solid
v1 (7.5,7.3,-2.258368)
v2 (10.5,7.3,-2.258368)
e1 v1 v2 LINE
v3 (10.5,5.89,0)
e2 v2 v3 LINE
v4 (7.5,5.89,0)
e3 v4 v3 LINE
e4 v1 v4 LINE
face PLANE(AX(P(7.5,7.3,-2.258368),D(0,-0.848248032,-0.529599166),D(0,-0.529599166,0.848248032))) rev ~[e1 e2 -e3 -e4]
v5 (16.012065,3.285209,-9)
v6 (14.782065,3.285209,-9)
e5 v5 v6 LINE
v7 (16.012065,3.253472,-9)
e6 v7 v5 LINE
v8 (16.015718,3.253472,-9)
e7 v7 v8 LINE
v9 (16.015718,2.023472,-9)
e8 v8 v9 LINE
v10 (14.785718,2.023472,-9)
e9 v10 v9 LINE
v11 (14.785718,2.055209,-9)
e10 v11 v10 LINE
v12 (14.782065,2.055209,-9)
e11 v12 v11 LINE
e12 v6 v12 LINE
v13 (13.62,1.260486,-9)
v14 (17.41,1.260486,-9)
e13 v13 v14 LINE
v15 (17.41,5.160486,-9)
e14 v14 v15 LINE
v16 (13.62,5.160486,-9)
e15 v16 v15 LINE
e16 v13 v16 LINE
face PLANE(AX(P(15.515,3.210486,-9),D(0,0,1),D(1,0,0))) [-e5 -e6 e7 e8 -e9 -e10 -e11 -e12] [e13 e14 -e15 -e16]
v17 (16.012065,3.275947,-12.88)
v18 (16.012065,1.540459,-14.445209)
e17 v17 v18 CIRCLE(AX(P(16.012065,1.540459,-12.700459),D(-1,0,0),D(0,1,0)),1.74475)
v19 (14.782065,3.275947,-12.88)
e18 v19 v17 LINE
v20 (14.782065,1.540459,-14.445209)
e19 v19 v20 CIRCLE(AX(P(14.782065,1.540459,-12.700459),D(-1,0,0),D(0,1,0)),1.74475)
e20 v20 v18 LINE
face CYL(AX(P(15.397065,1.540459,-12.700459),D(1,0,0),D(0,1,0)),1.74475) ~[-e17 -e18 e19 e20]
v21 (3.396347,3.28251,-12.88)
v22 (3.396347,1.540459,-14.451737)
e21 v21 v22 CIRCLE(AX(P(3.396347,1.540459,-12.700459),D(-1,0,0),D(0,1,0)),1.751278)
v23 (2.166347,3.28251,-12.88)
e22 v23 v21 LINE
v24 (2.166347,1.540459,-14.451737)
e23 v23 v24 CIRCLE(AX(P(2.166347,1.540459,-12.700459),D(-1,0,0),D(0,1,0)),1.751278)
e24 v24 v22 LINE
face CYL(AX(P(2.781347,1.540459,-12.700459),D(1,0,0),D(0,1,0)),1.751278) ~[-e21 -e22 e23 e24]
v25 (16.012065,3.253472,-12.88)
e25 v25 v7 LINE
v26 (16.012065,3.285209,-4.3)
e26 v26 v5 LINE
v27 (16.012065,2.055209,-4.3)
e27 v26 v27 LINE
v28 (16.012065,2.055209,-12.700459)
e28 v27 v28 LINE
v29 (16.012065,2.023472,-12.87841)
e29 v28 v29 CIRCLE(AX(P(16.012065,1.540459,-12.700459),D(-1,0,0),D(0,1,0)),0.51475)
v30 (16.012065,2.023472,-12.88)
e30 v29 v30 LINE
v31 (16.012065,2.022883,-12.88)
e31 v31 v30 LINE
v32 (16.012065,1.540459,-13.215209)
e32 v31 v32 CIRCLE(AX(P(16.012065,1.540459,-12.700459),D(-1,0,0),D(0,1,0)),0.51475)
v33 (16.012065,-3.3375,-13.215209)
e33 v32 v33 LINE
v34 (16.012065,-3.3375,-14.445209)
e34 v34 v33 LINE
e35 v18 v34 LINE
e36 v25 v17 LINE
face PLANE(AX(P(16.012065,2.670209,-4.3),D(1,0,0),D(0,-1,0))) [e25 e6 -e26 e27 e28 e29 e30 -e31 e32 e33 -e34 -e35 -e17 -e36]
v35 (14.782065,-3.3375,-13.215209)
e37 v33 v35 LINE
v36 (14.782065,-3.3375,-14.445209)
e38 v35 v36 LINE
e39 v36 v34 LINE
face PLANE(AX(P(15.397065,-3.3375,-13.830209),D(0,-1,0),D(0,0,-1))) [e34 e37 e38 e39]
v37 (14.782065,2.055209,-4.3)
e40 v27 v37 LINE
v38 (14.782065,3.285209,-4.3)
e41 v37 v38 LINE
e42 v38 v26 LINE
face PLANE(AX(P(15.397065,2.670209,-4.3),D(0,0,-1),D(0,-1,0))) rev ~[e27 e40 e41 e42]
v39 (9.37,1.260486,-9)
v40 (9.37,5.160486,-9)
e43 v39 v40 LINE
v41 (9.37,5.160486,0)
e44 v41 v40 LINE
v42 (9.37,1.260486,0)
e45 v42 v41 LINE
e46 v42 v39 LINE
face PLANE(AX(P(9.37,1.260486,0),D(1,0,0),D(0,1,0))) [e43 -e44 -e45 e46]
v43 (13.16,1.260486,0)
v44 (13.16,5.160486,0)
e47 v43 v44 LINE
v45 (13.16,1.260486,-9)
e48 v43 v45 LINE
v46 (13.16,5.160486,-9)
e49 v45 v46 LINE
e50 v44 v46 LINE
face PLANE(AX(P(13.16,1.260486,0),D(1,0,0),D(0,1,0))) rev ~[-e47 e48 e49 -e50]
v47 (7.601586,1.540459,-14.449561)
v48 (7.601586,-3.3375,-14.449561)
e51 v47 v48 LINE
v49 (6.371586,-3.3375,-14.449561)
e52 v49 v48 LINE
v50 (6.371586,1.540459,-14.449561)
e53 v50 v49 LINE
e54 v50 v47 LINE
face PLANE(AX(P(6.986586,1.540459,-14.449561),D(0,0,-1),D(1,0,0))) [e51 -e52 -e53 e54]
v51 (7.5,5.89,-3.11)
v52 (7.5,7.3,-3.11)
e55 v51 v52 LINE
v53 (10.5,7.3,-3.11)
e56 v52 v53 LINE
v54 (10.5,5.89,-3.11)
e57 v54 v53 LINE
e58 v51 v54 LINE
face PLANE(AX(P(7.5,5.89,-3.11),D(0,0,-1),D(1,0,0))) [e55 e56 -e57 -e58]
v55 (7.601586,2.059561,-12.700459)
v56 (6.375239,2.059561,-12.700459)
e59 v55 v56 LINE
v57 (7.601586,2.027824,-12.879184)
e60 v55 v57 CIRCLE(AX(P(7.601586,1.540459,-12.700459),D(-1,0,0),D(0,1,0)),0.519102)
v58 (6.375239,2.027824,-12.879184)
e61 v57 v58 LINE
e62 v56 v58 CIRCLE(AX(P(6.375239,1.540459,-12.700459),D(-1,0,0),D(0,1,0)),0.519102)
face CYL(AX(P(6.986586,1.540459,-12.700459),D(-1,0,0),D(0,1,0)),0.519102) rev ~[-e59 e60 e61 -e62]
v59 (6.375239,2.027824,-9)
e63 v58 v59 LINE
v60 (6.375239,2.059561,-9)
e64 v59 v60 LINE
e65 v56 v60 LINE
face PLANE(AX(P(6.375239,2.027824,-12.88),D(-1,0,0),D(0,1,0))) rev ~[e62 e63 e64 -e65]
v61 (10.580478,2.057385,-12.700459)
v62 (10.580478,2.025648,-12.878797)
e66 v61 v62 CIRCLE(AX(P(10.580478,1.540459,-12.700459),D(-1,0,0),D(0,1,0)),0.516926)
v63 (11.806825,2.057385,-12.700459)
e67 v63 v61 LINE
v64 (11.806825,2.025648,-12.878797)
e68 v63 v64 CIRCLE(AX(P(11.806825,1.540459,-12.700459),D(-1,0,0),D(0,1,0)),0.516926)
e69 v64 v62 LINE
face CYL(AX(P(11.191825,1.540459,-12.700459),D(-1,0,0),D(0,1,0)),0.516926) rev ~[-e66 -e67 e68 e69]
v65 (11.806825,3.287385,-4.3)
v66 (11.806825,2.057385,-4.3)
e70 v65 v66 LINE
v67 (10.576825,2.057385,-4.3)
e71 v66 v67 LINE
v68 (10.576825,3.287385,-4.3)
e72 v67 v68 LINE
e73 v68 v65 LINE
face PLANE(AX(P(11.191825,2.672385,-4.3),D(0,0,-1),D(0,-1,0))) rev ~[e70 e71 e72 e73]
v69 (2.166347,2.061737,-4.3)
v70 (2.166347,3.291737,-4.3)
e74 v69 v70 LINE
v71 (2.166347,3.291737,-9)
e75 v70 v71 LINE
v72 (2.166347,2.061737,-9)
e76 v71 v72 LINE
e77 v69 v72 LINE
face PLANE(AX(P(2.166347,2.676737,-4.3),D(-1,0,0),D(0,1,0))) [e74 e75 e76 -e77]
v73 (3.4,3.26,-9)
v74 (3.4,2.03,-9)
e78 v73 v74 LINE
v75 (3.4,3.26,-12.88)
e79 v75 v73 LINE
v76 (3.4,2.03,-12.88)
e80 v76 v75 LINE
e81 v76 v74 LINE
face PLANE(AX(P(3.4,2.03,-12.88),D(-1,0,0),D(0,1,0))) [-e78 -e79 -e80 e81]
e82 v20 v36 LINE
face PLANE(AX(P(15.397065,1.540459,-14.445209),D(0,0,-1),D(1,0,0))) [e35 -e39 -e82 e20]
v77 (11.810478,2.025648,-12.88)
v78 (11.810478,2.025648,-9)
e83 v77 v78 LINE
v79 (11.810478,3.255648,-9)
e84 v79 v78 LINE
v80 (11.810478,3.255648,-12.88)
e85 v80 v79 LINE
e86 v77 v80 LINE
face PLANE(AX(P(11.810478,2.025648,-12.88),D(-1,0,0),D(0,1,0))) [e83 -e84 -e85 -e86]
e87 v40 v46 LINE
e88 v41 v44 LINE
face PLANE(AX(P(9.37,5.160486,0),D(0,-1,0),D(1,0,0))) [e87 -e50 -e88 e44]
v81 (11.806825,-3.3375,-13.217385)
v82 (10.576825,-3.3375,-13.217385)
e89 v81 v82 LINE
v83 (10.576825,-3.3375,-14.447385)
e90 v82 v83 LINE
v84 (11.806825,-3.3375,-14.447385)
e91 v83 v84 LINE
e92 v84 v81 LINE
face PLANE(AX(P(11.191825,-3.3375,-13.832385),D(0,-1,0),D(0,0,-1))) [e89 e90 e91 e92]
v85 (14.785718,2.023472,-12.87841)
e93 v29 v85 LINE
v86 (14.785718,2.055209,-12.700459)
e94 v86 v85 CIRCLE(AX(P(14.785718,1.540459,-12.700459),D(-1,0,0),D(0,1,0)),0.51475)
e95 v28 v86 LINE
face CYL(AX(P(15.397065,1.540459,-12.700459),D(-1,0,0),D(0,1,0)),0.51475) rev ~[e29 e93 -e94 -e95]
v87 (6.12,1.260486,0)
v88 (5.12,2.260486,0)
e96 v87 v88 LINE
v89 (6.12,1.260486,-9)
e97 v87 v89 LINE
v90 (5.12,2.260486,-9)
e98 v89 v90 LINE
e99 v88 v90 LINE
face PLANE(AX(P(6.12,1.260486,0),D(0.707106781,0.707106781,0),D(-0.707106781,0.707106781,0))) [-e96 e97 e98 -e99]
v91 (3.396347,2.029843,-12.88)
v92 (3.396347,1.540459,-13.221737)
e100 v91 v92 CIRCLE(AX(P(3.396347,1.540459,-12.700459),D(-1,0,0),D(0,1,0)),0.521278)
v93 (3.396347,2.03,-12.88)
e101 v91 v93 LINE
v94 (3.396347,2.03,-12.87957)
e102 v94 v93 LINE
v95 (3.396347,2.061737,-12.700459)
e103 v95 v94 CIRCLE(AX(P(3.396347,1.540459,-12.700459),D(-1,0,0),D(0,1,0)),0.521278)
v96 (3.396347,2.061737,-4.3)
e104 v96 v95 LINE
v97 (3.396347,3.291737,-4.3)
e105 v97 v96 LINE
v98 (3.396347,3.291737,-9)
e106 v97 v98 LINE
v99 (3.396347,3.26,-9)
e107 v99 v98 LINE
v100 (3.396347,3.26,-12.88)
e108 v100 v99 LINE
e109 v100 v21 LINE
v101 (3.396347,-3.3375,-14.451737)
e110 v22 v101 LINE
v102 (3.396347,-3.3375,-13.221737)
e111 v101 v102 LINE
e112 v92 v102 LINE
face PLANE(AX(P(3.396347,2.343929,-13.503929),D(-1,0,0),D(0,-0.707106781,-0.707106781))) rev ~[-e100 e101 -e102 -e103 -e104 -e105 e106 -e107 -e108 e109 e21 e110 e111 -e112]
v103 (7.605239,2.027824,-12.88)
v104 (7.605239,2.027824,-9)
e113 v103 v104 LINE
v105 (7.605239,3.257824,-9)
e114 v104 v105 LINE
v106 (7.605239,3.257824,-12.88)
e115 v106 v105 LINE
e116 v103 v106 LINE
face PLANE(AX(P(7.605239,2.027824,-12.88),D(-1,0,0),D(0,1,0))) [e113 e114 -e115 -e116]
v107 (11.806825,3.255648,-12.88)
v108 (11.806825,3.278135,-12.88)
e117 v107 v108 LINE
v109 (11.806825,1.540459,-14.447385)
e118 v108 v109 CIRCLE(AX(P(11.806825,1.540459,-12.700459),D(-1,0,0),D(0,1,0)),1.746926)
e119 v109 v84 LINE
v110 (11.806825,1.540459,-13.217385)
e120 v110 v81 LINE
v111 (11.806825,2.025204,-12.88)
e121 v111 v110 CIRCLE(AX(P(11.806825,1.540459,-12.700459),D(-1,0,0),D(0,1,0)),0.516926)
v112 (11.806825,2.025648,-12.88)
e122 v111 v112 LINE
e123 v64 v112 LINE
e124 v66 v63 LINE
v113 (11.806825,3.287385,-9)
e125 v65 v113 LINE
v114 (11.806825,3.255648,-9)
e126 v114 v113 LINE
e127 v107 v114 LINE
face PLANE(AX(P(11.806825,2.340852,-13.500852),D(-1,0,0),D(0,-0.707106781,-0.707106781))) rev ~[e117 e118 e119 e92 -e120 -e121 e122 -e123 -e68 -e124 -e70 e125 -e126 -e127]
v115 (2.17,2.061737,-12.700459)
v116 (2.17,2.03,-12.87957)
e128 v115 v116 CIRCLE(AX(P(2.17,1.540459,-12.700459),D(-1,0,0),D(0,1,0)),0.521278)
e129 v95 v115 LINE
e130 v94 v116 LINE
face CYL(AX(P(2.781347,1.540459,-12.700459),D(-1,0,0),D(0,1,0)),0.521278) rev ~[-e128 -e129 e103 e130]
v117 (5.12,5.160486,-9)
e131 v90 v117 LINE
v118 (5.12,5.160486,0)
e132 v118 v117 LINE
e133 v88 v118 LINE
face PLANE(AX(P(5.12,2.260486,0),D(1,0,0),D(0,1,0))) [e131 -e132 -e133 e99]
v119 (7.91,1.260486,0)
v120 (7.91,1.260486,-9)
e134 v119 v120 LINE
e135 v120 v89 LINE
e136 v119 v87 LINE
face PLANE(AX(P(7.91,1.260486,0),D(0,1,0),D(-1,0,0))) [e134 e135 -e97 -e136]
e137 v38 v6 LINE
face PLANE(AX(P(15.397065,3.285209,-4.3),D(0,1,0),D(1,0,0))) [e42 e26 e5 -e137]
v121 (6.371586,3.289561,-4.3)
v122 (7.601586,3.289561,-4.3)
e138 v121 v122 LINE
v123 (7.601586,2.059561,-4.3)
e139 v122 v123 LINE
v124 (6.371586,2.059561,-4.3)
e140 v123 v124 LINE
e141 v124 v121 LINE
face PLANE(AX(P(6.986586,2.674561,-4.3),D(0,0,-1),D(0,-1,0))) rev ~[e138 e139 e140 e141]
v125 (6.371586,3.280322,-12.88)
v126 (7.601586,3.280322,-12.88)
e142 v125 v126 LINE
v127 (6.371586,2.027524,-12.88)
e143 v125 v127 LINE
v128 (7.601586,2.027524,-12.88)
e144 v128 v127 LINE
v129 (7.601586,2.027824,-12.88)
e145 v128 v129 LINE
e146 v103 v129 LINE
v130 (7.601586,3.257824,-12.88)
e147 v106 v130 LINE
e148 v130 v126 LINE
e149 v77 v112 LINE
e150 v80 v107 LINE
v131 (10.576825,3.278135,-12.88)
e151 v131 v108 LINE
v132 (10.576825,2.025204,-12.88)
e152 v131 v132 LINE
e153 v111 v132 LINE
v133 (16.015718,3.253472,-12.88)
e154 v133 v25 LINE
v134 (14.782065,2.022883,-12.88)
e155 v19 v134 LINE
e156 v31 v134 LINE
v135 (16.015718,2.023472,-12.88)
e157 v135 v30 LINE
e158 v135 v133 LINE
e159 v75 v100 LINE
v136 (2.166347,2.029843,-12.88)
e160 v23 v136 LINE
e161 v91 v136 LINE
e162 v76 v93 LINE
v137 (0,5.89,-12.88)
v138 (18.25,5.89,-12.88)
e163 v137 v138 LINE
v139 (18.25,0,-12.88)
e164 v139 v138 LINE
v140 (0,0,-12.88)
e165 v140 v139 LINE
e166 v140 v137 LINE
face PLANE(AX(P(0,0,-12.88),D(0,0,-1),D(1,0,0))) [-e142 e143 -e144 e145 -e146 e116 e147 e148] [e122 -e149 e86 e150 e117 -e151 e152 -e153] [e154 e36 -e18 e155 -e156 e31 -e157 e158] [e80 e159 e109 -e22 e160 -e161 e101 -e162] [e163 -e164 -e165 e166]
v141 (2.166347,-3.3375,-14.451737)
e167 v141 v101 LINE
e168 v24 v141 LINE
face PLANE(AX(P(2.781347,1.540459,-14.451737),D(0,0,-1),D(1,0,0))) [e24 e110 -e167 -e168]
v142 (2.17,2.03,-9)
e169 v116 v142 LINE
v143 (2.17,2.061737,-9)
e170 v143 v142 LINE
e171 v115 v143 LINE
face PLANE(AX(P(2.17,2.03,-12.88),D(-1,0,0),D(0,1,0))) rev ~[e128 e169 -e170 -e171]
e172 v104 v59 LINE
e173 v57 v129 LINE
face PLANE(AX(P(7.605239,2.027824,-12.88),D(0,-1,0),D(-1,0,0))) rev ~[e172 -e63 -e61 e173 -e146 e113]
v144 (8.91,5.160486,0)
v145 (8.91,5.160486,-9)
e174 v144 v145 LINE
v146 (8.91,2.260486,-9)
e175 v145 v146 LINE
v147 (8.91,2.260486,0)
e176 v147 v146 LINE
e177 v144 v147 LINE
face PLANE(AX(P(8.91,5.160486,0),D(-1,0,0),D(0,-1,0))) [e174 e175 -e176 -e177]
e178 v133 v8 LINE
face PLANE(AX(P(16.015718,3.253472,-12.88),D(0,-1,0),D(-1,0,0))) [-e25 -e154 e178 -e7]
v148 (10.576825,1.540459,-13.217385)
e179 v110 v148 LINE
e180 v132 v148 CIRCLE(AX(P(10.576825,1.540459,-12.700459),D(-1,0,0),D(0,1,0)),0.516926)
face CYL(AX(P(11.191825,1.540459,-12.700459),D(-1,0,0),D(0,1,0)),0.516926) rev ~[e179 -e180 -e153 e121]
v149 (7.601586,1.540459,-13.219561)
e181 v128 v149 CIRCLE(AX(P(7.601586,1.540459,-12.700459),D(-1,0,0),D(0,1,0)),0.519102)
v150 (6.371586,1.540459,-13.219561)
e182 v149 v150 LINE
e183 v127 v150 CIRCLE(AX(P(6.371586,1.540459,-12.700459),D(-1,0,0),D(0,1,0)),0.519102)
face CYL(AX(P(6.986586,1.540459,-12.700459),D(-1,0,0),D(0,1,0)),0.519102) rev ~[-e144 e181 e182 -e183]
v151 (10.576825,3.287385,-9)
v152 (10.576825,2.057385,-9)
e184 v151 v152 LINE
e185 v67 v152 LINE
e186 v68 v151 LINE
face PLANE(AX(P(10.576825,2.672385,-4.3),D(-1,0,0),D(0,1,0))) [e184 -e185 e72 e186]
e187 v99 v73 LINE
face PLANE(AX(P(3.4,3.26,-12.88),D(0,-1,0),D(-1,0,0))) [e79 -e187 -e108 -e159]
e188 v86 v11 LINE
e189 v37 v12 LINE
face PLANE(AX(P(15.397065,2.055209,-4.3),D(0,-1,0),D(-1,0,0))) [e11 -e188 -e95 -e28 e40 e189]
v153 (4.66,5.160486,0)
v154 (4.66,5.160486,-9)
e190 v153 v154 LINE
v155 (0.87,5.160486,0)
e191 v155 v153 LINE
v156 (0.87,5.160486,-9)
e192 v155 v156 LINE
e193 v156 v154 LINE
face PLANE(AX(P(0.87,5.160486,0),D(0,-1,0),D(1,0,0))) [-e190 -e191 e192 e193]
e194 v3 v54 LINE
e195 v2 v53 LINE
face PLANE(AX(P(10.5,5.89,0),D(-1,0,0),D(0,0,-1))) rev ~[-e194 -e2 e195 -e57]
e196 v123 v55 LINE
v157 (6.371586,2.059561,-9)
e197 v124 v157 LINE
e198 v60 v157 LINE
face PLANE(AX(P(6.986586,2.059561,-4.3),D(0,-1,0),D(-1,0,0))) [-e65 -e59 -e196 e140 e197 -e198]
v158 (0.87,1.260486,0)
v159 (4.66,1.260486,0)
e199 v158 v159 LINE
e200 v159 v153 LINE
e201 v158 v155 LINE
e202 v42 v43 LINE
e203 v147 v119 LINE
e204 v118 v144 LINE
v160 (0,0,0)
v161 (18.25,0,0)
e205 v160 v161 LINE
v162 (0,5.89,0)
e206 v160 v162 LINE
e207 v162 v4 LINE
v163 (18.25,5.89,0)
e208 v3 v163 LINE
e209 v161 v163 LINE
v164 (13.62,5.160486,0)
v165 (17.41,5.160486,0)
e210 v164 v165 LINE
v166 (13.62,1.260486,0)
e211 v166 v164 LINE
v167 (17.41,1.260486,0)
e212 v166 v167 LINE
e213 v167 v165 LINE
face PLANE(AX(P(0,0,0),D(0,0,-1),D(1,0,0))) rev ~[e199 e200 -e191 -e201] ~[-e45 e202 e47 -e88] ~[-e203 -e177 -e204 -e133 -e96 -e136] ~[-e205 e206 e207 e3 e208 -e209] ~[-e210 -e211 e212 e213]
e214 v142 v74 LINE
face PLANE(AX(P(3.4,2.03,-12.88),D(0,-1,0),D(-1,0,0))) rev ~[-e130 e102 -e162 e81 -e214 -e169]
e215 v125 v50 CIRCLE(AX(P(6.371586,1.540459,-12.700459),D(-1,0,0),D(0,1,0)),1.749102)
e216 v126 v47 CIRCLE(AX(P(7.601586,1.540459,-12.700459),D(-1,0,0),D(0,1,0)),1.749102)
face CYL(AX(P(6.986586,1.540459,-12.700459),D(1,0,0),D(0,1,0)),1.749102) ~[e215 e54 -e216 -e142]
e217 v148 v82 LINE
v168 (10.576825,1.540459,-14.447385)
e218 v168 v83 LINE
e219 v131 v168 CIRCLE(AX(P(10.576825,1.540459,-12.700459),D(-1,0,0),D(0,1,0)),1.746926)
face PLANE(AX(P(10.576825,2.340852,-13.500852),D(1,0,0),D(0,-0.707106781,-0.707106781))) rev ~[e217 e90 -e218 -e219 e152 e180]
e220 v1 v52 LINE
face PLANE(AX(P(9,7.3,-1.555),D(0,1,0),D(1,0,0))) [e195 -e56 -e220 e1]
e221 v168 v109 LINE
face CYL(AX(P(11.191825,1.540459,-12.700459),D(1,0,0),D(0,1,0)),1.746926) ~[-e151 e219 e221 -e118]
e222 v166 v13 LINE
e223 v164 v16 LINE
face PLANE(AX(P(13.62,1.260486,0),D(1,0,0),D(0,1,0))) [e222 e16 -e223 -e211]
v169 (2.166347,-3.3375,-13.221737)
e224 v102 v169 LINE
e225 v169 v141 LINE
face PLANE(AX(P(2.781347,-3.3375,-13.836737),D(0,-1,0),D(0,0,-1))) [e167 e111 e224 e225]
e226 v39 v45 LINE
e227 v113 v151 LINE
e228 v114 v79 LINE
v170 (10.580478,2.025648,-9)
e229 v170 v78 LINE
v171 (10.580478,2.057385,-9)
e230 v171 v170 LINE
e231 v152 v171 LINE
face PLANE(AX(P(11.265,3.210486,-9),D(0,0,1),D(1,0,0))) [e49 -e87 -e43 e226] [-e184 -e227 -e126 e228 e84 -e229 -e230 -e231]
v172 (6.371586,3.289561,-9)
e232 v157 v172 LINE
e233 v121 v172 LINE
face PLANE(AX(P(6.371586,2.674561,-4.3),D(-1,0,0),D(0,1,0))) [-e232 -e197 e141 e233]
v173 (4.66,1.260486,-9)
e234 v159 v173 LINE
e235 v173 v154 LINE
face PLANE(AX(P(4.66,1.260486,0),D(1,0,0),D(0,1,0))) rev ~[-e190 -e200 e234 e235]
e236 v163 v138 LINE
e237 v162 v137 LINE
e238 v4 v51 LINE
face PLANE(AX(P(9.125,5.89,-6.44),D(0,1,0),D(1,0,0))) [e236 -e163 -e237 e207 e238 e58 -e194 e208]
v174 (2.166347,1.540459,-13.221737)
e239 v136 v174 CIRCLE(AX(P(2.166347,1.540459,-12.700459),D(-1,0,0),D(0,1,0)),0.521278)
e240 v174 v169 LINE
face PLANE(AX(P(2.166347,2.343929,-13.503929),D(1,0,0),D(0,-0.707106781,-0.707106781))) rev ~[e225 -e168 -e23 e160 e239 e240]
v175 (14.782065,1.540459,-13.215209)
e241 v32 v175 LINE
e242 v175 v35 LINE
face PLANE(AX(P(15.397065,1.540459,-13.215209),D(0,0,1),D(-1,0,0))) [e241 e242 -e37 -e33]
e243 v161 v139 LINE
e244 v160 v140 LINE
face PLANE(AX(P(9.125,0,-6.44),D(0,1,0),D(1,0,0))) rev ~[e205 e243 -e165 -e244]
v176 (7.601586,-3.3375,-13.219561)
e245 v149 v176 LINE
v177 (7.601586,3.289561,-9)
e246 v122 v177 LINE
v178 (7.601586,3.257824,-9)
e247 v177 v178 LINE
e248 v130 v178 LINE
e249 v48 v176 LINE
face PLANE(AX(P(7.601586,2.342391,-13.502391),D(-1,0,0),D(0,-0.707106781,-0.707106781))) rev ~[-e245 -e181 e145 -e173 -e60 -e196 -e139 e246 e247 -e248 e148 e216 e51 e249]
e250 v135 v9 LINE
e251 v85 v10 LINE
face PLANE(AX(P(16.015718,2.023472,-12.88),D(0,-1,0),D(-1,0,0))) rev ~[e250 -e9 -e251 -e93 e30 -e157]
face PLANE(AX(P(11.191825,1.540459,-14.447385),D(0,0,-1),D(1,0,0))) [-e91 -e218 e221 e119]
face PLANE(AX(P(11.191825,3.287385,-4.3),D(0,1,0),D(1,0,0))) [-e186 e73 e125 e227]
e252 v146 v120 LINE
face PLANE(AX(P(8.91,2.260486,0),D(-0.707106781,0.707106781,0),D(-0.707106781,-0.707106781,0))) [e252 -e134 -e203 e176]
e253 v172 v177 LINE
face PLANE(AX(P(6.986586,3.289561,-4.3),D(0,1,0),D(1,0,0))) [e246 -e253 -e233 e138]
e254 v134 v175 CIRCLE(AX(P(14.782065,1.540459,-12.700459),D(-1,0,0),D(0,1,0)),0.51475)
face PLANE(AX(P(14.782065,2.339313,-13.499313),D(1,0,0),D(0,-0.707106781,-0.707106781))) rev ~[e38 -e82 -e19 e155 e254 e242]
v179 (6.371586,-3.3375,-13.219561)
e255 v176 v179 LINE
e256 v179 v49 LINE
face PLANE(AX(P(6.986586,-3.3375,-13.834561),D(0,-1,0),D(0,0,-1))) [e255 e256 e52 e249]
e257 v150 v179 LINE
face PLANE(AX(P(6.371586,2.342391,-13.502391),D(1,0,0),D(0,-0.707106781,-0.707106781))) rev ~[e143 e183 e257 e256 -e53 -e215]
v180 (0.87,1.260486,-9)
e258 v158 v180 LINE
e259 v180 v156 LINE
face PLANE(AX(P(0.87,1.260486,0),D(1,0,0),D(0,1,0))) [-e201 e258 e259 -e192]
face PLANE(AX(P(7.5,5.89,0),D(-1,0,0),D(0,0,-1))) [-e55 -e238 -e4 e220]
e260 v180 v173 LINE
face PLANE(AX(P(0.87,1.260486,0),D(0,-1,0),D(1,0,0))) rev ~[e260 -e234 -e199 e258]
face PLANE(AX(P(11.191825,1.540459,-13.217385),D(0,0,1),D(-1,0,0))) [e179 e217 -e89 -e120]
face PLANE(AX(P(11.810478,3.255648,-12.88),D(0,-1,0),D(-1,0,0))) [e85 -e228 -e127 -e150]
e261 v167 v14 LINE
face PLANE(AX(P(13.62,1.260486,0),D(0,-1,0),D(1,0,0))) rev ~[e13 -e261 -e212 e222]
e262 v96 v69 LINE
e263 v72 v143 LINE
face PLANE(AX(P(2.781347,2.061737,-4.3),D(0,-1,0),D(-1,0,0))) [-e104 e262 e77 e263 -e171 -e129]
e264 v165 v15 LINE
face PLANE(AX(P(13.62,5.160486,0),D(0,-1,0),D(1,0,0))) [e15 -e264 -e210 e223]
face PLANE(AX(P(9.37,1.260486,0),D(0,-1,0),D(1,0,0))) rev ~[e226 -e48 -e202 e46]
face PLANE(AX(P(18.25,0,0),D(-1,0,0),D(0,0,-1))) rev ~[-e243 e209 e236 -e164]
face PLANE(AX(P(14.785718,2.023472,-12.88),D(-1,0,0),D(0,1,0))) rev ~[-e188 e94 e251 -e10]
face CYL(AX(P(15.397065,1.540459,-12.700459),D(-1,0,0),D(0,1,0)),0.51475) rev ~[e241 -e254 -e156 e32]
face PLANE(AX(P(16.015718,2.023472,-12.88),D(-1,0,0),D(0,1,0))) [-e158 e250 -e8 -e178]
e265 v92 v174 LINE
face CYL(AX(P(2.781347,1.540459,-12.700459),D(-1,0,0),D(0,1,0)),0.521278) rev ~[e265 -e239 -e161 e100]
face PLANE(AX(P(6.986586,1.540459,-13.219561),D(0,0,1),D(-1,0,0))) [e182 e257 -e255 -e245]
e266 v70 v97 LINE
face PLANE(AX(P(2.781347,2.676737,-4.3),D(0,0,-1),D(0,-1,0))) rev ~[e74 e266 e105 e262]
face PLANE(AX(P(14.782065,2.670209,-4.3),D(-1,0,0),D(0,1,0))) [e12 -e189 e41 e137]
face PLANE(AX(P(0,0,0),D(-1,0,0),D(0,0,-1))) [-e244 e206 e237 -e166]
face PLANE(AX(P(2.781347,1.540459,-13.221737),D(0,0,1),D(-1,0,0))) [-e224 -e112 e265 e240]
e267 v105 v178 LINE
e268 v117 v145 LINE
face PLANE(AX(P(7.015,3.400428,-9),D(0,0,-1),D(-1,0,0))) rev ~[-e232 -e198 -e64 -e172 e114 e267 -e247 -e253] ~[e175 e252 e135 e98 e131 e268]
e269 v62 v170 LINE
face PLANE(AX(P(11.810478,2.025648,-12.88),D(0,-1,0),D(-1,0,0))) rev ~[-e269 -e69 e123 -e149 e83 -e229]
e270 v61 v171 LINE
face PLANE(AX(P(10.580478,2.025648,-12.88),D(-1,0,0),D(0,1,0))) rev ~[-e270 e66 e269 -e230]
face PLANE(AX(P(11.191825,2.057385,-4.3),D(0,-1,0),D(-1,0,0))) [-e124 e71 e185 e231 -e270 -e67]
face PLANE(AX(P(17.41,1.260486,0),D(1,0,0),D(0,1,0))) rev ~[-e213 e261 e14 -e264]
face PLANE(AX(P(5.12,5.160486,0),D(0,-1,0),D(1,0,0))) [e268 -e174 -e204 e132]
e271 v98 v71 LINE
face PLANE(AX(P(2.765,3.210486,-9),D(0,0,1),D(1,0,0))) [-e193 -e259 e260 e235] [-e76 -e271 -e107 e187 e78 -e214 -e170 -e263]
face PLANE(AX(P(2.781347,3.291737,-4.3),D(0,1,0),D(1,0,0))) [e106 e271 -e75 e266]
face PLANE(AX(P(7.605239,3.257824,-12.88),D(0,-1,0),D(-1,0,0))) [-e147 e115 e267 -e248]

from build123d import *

# Parameters (mm, degrees)
SKETCH1_W           = 18.25
SKETCH1_H           = 12.88
BOSS_EXTRUDE1_DEPTH = 5.89
SKETCH2_W           = 3.79
SKETCH2_H           = 3.9
CUT_EXTRUDE1_DEPTH  = 9
SKETCH3_W           = 3
SKETCH3_H           = 3.11
BOSS_EXTRUDE2_DEPTH = 1.41
CUT_EXTRUDE2_DEPTH  = 3
SKETCH5_W           = 1.23
SKETCH5_H           = 1.23
CUT_EXTRUDE3_DEPTH  = 4
SKETCH8_W           = 1.23
SKETCH8_H           = 1.23


with BuildPart() as part:
    # Sketch1 → Boss-Extrude1 (new body)
    with BuildSketch(Plane(origin=(0, 0, 0), x_dir=(1, 0, 0), z_dir=(0, 1, 0))):
        with Locations((9.125, 6.44)):
            Rectangle(SKETCH1_W, SKETCH1_H)
    extrude(amount=BOSS_EXTRUDE1_DEPTH)

    # Sketch2 → Cut-Extrude1 (cut)
    with BuildSketch(Plane.XY):
        with Locations((2.765, 3.21048567)):
            Rectangle(SKETCH2_W, SKETCH2_H)
        Polygon((5.12, 5.16048567), (8.91, 5.16048567), (8.91, 2.26048567), (7.91, 1.26048567), (6.12, 1.26048567), (5.12, 2.26048567), align=None)
        with Locations((11.265, 3.21048567)):
            Rectangle(SKETCH2_W, SKETCH2_H)
        with Locations((15.515, 3.21048567)):
            Rectangle(SKETCH2_W, SKETCH2_H)
    extrude(amount=-CUT_EXTRUDE1_DEPTH, mode=Mode.SUBTRACT)

    # Sketch3 → Boss-Extrude2 (add)
    with BuildSketch(Plane(origin=(0, 5.89, 0), x_dir=(1, 0, 0), z_dir=(0, 1, 0))):
        with Locations((9, 1.555)):
            Rectangle(SKETCH3_W, SKETCH3_H)
    extrude(amount=BOSS_EXTRUDE2_DEPTH)

    # Sketch4 → Cut-Extrude2 (cut)
    with BuildSketch(Plane.ZY.offset(-7.5)):
        Polygon((-2.258367839, 7.3), (0, 5.89), (0, 7.3), align=None)
    extrude(amount=-CUT_EXTRUDE2_DEPTH, mode=Mode.SUBTRACT)

    # Sketch5 → Cut-Extrude3 (cut)
    with BuildSketch(Plane(origin=(0, 0, -12.88), x_dir=(-1, 0, 0), z_dir=(0, 0, -1))):
        with Locations((-2.785, 2.645)):
            Rectangle(SKETCH5_W, SKETCH5_H)
        with Locations((-6.990239219, 2.642823938)):
            Rectangle(SKETCH5_W, SKETCH5_H)
        with Locations((-11.195478439, 2.640647876)):
            Rectangle(SKETCH5_W, SKETCH5_H)
        with Locations((-15.400717658, 2.638471814)):
            Rectangle(SKETCH5_W, SKETCH5_H)
    extrude(amount=-CUT_EXTRUDE3_DEPTH, mode=Mode.SUBTRACT)

    # Sweep2: sweep along a path in Sketch7
    with BuildLine(Plane.ZY) as sweep2_path:
        Line((-4.3, 2.72), (-12.700459496, 2.72))
        ThreePointArc((-12.700459496, 2.72), (-13.534520585, 2.374520585), (-13.88, 1.540459496))
        Line((-13.88, 1.540459496), (-13.88, -3.3375))
    # Sketch8 → Sweep2 (sweep)
    with BuildSketch(Plane.XZ.offset(3.3375)):
        with Locations((15.397064507, -13.830209109)):
            Rectangle(SKETCH8_W, SKETCH8_H)
        with Locations((11.191825288, -13.832385171)):
            Rectangle(SKETCH8_W, SKETCH8_H)
        with Locations((6.986586068, -13.834561233)):
            Rectangle(SKETCH8_W, SKETCH8_H)
        with Locations((2.781346849, -13.836737294)):
            Rectangle(SKETCH8_W, SKETCH8_H)
    sweep(path=sweep2_path.line)


solid = part.part
